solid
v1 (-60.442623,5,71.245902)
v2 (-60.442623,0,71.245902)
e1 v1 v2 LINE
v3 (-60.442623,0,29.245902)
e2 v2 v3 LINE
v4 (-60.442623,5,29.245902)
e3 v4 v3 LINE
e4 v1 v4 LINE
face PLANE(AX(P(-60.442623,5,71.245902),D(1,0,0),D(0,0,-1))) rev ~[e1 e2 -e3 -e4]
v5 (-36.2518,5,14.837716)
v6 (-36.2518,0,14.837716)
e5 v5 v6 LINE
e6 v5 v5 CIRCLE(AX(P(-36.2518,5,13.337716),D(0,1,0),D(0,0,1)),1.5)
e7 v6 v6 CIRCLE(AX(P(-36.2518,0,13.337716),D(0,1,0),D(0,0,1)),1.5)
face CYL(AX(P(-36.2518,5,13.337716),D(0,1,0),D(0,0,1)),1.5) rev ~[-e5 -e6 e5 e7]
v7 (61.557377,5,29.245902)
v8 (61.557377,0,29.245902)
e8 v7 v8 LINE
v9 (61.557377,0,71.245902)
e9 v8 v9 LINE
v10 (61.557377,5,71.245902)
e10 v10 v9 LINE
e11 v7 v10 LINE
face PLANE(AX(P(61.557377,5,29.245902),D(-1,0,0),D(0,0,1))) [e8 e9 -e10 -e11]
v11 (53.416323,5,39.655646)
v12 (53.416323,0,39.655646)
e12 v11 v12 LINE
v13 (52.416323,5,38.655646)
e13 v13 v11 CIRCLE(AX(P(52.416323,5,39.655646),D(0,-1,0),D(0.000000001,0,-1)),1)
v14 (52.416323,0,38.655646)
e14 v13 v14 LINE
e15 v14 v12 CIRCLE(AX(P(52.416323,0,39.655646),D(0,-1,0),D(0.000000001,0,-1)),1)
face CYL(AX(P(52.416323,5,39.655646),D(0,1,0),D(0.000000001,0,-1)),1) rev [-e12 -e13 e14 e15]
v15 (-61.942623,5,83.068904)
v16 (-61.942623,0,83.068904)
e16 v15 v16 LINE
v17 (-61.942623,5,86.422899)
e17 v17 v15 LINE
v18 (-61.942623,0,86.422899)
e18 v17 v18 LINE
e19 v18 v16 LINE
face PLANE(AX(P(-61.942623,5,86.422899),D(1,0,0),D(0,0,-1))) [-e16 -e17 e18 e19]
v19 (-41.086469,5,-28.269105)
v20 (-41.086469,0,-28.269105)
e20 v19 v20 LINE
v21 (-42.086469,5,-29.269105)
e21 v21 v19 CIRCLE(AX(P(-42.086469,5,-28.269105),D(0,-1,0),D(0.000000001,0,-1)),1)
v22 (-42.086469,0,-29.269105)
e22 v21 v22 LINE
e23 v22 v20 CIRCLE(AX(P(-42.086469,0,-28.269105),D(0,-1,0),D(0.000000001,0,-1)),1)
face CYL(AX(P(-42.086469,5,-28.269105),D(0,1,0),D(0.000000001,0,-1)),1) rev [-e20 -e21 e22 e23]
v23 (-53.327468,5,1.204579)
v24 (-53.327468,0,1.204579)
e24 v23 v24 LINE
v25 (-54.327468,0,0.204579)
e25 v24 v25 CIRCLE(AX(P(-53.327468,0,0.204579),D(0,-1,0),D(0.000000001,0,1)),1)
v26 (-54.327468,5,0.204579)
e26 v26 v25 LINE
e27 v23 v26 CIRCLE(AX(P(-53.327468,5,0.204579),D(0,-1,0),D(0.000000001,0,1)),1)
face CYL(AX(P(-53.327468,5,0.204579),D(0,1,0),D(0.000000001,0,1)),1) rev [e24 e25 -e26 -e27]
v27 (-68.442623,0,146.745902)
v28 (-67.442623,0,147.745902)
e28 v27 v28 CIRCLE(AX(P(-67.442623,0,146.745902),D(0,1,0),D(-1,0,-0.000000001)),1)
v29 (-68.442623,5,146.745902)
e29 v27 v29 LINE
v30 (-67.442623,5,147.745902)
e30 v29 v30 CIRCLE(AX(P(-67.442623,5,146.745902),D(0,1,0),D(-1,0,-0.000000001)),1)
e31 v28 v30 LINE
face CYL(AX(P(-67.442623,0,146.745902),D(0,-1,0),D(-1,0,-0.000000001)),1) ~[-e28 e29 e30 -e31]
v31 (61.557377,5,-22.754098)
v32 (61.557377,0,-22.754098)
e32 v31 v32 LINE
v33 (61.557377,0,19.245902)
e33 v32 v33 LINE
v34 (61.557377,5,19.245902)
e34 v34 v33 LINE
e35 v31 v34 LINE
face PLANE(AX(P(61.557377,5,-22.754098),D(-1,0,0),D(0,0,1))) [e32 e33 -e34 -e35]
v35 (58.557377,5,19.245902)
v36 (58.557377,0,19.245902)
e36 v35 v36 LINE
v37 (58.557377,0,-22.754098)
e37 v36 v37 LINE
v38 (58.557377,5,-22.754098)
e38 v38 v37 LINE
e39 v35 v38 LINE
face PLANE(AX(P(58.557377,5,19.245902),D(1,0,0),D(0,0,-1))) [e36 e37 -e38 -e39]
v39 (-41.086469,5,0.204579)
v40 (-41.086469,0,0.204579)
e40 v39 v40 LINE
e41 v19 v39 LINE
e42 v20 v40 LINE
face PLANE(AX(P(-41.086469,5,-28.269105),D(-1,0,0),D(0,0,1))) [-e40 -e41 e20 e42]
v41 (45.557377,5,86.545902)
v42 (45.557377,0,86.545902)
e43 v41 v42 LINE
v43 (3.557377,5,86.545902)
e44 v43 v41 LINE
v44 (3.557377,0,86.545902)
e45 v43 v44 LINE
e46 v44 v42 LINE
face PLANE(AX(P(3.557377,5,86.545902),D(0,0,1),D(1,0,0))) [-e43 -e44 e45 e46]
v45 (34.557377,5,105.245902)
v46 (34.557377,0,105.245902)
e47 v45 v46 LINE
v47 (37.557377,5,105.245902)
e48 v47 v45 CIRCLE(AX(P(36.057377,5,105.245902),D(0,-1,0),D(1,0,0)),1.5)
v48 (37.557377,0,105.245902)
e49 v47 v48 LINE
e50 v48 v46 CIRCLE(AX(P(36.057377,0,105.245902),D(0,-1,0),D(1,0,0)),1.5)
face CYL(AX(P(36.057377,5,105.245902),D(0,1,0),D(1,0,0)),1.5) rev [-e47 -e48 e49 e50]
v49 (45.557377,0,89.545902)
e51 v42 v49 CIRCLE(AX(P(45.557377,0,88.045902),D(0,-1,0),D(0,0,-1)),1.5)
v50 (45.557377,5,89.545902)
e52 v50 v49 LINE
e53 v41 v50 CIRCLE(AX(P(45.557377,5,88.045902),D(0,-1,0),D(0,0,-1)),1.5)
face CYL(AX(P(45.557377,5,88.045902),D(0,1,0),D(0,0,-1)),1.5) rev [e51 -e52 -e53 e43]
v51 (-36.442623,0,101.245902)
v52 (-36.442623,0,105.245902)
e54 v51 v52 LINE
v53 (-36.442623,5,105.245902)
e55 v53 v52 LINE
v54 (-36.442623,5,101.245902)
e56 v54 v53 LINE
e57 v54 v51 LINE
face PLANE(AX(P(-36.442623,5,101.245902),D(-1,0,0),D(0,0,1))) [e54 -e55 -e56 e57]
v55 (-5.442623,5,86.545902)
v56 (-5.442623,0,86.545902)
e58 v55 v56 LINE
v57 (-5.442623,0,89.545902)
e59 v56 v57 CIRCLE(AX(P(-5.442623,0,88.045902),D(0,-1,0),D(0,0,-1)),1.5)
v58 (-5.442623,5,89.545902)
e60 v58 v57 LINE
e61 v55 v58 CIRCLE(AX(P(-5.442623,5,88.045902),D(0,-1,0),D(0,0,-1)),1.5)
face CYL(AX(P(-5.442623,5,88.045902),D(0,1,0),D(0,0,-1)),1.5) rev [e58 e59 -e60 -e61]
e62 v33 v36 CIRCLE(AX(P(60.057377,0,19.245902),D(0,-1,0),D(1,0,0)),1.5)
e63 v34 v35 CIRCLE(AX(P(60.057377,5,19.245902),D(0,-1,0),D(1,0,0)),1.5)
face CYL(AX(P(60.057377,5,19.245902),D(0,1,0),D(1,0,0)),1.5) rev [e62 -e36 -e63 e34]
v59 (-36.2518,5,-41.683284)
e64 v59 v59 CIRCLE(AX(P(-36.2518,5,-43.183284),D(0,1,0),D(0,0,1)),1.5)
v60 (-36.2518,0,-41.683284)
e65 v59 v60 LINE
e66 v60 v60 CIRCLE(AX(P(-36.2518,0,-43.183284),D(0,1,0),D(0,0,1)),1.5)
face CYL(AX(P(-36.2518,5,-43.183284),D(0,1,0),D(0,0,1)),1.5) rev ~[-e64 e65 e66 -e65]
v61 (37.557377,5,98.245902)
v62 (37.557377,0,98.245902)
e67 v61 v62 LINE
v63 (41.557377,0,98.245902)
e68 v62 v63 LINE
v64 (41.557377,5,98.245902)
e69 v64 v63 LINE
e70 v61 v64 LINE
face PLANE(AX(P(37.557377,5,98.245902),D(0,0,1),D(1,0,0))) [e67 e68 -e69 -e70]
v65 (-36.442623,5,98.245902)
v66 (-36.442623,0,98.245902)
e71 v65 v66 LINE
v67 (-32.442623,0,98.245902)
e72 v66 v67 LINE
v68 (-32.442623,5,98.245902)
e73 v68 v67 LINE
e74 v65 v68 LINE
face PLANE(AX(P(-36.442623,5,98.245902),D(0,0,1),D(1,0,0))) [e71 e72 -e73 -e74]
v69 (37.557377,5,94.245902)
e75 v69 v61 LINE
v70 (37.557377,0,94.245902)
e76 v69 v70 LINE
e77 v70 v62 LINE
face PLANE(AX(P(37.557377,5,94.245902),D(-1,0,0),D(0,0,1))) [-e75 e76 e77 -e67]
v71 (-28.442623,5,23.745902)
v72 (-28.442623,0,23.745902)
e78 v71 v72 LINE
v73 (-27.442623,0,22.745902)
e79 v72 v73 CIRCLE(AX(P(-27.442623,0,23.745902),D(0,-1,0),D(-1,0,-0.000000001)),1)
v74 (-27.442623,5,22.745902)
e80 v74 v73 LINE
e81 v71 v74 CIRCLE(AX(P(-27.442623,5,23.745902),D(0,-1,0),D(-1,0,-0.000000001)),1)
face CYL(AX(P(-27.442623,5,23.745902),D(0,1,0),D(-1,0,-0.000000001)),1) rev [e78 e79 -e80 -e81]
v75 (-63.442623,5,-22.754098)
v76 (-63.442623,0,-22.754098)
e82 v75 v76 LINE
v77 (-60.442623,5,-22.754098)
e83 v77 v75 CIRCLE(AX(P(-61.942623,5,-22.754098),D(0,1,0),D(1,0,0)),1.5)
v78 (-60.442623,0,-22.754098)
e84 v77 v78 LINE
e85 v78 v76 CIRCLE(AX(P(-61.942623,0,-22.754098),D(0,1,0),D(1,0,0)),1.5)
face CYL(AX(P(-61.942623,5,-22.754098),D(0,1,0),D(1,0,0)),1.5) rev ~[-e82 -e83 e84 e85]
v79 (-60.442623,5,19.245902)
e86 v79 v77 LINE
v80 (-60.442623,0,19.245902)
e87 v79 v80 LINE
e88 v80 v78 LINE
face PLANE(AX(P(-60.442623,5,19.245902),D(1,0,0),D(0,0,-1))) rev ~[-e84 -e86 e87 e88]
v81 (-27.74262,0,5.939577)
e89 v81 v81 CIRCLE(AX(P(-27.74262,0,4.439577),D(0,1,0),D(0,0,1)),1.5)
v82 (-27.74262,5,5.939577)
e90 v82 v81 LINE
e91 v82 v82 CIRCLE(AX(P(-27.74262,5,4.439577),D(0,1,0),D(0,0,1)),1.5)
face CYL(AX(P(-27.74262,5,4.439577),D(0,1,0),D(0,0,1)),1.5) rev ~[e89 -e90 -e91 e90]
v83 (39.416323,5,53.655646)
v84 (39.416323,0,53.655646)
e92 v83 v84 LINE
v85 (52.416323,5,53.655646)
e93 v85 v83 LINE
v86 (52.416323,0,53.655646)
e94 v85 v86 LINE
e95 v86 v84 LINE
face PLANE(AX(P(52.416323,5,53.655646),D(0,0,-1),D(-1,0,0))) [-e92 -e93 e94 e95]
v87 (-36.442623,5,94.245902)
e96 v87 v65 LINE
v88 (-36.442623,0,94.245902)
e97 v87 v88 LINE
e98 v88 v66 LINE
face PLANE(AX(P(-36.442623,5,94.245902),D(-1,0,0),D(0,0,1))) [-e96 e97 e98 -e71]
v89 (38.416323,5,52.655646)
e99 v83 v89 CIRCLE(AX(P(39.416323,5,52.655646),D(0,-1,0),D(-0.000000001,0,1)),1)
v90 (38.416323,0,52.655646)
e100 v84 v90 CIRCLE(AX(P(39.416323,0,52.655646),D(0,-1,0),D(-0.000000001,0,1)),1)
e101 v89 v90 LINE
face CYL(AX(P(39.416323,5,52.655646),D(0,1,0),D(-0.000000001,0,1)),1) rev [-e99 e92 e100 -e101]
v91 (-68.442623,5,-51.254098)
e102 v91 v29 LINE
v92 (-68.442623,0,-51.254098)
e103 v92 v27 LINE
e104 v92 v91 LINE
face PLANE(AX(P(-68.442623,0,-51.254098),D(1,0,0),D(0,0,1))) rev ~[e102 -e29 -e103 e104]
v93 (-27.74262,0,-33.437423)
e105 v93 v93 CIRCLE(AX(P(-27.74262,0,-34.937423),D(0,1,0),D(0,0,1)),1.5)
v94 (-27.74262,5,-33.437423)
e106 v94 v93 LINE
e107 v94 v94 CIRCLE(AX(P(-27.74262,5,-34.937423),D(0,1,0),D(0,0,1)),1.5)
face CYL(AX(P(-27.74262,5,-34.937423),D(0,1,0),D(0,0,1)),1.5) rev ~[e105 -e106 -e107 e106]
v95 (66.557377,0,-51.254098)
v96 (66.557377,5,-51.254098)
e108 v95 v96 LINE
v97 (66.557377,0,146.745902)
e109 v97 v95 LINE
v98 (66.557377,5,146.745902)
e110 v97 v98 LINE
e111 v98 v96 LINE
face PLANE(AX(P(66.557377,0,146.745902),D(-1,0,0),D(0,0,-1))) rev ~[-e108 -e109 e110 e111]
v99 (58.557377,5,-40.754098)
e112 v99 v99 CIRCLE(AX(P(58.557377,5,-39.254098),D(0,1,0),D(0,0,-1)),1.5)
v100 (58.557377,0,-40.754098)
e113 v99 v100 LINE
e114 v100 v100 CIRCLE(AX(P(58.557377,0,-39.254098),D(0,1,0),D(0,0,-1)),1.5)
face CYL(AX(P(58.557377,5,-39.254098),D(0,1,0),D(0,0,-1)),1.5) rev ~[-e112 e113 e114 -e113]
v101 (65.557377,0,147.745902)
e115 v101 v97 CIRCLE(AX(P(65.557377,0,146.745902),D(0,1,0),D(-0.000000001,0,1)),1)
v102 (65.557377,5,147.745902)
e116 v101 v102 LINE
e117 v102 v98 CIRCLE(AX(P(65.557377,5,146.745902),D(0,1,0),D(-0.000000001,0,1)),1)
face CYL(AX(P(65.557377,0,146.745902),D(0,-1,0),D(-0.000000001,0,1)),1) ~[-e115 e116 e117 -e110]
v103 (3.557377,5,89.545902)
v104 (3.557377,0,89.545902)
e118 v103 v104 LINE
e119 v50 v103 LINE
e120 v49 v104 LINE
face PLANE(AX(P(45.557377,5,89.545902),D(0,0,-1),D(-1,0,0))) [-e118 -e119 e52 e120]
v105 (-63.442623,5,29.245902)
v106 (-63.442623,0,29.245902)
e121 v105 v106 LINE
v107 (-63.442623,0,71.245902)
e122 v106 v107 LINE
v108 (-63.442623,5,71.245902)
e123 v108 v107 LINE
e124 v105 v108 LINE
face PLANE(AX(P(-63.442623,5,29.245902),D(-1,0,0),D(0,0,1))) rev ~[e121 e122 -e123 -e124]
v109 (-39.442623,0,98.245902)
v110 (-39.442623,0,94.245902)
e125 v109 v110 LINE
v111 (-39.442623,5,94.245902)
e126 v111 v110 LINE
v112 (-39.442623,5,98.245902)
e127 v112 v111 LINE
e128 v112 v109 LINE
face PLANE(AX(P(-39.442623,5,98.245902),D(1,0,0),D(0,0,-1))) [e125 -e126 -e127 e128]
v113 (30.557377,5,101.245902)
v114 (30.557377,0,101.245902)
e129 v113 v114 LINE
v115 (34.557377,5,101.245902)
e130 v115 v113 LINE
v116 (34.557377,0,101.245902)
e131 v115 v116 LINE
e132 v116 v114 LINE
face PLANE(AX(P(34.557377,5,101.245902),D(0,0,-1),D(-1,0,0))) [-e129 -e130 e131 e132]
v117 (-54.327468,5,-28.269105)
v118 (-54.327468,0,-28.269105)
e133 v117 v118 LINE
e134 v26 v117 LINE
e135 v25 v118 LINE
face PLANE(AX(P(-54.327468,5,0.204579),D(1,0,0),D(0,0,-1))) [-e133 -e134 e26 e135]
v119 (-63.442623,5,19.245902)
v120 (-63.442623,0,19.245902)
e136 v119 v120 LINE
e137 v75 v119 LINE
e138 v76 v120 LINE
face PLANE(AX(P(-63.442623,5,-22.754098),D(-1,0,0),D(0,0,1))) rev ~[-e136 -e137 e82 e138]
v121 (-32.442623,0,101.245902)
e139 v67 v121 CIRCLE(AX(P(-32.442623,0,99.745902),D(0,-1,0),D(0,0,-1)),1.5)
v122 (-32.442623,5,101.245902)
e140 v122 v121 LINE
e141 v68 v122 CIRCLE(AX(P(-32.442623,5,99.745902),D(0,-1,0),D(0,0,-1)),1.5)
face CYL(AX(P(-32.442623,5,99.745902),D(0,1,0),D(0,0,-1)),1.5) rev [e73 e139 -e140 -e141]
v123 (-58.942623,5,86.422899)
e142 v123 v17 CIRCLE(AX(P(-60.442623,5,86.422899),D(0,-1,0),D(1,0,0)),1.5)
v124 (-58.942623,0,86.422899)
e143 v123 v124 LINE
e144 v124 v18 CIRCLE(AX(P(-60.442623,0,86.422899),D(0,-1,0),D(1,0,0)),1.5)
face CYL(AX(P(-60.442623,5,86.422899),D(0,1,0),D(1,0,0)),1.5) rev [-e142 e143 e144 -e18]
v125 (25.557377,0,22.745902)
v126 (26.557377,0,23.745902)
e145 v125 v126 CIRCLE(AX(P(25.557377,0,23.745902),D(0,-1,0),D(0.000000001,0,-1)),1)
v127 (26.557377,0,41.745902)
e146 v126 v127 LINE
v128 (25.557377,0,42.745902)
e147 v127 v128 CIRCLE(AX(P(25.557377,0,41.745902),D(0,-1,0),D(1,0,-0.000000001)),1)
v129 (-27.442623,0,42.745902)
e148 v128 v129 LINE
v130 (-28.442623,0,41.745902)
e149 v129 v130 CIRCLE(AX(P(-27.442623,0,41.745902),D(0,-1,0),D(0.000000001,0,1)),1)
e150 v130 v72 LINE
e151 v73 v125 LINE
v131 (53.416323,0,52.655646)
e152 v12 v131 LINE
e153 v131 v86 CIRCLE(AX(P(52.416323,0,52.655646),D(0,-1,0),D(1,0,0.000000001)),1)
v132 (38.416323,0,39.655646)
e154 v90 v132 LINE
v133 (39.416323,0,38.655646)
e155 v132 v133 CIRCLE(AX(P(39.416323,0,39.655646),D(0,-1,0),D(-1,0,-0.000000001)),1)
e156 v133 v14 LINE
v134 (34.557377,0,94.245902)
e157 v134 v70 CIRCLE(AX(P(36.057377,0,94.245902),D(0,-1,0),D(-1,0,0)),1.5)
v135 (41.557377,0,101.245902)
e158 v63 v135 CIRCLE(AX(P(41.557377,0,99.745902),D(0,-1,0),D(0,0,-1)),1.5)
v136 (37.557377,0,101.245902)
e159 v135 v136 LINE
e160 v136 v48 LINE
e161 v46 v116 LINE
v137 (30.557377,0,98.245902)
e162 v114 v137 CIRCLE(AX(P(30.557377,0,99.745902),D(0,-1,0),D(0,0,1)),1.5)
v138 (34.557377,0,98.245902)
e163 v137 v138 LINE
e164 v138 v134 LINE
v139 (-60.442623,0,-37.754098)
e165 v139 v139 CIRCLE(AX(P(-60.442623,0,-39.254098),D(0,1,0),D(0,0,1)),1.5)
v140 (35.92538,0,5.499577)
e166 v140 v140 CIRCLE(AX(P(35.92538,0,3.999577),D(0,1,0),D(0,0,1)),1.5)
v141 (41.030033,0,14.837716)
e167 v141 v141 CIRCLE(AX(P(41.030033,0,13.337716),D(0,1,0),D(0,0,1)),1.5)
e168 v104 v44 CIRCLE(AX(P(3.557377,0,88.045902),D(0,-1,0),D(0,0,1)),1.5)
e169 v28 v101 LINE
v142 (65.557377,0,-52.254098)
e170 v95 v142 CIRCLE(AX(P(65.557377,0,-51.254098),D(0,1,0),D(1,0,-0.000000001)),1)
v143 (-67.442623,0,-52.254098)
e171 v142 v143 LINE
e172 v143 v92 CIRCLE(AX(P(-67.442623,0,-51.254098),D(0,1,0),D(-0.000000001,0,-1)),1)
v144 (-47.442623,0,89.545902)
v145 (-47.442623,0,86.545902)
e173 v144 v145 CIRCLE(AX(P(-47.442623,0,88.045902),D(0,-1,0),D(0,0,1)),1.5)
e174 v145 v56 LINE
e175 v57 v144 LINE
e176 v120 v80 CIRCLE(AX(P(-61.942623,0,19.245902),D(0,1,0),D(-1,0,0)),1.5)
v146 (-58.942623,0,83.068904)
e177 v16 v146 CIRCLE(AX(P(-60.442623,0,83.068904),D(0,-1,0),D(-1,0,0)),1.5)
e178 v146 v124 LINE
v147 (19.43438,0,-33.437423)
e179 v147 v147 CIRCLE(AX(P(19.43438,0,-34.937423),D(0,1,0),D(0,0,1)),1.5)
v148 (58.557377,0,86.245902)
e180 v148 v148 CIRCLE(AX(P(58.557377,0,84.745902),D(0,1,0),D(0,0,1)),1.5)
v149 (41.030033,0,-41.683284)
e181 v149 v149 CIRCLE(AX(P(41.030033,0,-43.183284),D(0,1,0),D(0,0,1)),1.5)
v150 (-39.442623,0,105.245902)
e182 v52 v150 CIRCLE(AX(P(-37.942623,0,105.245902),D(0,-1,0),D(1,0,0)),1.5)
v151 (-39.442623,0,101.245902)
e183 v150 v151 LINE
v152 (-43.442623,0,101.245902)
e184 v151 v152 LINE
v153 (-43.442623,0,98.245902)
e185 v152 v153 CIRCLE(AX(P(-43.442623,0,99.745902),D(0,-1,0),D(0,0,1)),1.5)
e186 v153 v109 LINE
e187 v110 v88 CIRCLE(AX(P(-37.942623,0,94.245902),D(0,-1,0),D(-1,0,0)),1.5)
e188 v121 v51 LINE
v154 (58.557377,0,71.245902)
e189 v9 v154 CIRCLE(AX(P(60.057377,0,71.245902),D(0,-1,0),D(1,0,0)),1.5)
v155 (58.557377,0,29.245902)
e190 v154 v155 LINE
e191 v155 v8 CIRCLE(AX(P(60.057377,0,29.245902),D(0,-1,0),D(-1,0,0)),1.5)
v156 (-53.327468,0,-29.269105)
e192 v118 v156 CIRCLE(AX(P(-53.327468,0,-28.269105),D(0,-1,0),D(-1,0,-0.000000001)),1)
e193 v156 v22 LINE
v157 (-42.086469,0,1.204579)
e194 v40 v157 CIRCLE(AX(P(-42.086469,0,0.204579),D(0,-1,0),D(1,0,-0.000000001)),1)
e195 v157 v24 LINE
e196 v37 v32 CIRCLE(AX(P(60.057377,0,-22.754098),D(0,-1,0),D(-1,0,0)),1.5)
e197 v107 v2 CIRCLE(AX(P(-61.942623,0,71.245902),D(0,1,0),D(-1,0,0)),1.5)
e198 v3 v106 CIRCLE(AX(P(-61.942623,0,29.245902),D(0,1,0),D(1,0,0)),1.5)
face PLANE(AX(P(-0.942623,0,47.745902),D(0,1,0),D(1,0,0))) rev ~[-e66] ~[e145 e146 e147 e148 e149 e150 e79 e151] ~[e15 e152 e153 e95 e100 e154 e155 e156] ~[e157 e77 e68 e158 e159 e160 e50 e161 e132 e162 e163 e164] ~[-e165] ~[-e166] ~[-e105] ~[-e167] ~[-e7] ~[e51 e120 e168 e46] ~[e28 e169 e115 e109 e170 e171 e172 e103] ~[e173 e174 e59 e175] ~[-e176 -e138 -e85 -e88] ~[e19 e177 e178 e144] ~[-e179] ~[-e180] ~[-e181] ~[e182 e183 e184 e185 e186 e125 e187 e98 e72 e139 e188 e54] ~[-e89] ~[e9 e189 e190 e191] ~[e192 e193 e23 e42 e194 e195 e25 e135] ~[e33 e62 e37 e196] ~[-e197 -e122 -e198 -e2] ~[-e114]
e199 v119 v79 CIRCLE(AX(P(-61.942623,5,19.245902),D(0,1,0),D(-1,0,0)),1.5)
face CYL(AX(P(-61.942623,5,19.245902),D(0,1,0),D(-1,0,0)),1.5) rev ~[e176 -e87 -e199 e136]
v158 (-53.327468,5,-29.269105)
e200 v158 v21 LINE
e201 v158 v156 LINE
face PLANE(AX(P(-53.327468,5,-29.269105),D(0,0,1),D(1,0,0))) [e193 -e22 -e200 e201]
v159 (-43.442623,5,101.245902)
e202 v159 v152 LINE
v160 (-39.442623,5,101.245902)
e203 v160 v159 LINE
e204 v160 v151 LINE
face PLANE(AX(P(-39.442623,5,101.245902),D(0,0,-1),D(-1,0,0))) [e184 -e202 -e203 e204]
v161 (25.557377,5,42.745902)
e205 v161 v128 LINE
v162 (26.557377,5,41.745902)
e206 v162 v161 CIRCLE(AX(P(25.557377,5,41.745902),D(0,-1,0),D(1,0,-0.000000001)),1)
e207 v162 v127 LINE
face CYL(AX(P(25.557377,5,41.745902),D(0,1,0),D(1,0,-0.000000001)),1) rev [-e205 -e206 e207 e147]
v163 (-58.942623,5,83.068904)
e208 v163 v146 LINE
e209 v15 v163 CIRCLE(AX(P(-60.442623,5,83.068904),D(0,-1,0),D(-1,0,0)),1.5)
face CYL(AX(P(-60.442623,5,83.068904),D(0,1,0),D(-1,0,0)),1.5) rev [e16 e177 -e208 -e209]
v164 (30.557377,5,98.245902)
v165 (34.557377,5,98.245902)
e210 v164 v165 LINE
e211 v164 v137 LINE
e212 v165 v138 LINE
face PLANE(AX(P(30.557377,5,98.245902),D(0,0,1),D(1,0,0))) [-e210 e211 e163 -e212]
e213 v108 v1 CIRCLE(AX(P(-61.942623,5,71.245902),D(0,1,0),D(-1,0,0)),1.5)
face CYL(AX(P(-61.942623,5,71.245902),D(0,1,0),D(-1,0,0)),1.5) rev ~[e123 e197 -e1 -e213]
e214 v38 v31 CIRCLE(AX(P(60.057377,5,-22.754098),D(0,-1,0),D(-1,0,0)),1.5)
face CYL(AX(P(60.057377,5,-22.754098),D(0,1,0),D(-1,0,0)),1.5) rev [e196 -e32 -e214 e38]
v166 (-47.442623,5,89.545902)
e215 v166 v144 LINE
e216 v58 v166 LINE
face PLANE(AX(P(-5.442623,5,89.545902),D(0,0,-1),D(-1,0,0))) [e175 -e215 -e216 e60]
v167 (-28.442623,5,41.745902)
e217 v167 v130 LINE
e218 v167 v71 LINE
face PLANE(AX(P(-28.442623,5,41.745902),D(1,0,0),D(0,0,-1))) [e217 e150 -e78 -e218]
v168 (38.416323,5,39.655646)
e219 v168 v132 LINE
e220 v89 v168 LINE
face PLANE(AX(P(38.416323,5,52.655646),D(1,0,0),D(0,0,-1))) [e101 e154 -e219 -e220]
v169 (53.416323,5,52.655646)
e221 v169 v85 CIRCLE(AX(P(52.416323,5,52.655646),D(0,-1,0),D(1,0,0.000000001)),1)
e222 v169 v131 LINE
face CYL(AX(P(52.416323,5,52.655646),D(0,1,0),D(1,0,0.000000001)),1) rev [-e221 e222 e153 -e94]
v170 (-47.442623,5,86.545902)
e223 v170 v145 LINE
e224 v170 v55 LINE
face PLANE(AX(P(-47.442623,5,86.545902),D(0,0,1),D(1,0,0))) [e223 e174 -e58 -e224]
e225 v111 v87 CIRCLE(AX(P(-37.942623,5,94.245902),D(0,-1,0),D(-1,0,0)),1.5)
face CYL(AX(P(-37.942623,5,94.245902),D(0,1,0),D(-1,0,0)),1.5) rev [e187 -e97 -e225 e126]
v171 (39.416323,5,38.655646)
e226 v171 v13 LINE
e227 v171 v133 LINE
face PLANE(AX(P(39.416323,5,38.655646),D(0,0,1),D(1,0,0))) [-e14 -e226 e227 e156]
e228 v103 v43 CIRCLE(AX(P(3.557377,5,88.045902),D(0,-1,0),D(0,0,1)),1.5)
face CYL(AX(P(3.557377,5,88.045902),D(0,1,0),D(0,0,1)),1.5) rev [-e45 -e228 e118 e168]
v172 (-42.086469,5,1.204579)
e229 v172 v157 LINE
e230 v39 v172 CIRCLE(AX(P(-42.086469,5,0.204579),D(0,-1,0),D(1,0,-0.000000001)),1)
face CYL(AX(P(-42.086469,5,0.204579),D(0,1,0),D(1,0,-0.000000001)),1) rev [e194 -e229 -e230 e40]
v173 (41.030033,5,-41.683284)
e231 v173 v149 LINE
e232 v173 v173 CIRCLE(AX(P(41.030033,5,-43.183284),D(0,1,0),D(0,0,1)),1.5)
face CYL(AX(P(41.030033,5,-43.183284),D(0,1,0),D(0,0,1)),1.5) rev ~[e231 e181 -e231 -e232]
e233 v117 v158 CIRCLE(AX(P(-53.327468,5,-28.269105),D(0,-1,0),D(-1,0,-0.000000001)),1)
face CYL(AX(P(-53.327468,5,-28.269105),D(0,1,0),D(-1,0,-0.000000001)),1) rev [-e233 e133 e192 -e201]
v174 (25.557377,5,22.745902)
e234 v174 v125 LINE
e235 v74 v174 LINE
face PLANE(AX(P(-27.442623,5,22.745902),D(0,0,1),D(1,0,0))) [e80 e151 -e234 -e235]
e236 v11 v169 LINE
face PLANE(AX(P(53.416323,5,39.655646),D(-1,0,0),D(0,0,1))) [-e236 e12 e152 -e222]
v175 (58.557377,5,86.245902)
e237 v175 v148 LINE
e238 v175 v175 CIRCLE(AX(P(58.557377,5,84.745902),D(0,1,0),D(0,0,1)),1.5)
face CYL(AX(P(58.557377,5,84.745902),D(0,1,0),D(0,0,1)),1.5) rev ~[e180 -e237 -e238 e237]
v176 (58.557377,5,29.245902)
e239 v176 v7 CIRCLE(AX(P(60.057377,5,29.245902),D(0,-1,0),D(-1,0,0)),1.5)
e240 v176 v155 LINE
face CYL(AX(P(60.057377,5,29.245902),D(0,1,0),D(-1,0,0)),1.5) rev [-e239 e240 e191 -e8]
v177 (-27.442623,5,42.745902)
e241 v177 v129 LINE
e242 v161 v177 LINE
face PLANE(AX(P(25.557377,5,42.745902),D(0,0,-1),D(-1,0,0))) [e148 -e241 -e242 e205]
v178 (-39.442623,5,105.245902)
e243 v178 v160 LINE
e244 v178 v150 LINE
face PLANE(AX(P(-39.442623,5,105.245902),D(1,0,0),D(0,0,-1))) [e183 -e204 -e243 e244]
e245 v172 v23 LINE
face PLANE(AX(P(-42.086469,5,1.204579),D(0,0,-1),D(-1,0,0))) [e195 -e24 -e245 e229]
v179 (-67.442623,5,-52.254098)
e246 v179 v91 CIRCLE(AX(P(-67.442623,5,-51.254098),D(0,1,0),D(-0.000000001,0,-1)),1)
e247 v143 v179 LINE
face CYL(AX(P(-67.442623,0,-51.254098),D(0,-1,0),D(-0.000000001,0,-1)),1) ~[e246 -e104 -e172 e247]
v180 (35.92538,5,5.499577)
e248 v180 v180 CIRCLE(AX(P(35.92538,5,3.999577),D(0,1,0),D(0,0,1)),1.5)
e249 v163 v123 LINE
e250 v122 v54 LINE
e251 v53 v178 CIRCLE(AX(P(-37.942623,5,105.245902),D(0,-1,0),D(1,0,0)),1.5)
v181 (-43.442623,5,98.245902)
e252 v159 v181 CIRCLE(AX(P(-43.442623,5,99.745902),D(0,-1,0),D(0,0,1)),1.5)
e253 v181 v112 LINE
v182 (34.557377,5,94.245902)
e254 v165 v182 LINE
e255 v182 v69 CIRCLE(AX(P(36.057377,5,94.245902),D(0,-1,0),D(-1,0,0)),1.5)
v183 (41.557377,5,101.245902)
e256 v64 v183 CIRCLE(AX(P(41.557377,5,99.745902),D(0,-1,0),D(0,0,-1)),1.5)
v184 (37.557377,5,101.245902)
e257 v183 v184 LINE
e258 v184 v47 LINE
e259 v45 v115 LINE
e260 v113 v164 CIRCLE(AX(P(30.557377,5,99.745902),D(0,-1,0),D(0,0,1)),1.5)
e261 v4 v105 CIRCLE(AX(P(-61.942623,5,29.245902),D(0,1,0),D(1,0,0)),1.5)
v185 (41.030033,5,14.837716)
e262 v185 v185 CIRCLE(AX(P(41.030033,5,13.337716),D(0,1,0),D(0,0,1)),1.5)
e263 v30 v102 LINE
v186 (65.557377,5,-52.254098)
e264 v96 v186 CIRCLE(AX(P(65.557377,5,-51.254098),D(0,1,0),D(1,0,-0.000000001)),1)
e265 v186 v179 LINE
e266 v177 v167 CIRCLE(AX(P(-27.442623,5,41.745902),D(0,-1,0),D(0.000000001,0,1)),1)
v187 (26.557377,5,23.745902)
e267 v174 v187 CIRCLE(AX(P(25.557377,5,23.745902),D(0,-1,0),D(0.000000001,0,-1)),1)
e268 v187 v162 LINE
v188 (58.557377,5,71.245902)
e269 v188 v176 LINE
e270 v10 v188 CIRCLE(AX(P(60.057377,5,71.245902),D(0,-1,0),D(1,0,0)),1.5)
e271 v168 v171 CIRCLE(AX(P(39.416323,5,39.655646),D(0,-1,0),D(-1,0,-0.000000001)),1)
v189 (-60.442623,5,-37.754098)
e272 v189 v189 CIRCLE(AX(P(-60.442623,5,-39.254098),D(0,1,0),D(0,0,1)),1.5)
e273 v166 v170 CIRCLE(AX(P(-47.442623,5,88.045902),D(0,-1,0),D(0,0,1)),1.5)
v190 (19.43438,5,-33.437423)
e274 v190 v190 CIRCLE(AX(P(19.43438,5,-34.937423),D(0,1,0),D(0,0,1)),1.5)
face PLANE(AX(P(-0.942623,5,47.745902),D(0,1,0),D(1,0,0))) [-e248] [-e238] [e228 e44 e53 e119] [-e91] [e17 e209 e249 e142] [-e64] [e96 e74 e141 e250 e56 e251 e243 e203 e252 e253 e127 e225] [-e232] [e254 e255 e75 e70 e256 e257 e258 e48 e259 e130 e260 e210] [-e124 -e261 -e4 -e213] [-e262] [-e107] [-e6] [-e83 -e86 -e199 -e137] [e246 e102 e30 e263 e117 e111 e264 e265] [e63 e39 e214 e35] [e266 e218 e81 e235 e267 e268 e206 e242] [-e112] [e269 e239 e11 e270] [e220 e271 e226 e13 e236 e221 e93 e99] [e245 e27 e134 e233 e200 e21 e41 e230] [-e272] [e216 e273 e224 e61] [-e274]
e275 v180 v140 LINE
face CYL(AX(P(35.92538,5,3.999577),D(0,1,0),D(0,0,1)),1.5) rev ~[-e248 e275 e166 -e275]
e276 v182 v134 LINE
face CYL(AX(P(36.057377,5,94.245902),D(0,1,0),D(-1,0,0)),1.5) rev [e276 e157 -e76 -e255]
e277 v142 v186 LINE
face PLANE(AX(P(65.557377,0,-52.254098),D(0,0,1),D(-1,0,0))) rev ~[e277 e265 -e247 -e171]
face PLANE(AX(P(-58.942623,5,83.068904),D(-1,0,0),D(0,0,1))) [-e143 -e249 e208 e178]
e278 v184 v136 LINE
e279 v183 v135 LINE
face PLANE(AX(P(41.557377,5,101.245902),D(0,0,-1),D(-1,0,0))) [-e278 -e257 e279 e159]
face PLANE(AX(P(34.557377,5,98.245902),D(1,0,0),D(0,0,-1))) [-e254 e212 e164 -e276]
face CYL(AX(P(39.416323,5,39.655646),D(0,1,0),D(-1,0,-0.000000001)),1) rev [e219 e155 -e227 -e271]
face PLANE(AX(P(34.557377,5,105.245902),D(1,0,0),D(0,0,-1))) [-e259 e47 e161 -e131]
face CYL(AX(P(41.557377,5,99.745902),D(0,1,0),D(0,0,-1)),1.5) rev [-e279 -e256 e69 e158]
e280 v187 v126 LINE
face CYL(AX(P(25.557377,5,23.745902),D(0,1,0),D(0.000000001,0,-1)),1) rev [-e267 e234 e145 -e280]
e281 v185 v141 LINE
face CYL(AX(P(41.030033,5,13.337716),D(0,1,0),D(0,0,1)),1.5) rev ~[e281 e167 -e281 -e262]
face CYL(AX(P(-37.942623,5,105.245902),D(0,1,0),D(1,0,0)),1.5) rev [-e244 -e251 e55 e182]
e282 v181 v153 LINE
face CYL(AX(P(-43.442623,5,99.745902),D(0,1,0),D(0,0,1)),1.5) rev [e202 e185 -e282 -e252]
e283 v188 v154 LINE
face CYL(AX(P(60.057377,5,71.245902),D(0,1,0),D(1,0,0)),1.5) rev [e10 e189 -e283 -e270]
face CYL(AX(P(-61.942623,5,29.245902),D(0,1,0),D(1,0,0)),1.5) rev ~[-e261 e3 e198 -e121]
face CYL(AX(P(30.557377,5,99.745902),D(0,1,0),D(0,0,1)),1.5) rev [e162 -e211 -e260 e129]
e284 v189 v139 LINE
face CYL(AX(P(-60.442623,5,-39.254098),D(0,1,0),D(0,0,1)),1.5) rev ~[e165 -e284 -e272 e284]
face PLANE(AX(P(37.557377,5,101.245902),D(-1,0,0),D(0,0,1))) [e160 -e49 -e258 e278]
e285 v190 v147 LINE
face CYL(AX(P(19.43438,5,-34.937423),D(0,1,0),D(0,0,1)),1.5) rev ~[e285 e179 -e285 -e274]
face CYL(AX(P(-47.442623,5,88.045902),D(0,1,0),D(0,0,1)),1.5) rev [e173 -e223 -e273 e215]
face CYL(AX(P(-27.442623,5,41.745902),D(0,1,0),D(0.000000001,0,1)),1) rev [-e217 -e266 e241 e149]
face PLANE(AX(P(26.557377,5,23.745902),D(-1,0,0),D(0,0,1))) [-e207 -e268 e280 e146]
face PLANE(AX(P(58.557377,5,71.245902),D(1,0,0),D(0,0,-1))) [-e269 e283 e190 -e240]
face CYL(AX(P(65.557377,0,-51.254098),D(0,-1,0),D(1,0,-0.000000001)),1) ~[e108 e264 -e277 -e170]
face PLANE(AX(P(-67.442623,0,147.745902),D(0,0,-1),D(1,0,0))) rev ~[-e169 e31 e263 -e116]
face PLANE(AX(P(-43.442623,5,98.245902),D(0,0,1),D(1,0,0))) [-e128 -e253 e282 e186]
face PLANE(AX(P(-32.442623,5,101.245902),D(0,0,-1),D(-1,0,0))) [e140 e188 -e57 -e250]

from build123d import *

# Parameters (mm, degrees)
BOSS_EXTRUDE1_DEPTH = 5
CUT_EXTRUDE1_DEPTH  = 5
CUT_EXTRUDE2_DEPTH  = 5
SKETCH5_R           = 1.5
CUT_EXTRUDE3_DEPTH  = 5
CUT_EXTRUDE4_DEPTH  = 5
SKETCH6_R           = 1.5
CUT_EXTRUDE5_DEPTH  = 5
SKETCH7_R           = 1.5
CUT_EXTRUDE6_DEPTH  = 10


with BuildPart() as part:
    # Sketch1 → Boss-Extrude1 (new body)
    with BuildSketch(Plane(origin=(0, 0, 0), x_dir=(1, 0, 0), z_dir=(0, 1, 0))):
        with BuildLine():
            Line((-67.442622951, -147.745901639), (65.557377049, -147.745901639))
            ThreePointArc((65.557377049, -147.745901639), (66.26448383, -147.453008421), (66.557377049, -146.745901639))
            Line((66.557377049, -146.745901639), (66.557377049, 51.254098361))
            ThreePointArc((66.557377049, 51.254098361), (66.26448383, 51.961205142), (65.557377049, 52.254098361))
            Line((65.557377049, 52.254098361), (-67.442622951, 52.254098361))
            ThreePointArc((-67.442622951, 52.254098361), (-68.149729732, 51.961205142), (-68.442622951, 51.254098361))
            Line((-68.442622951, 51.254098361), (-68.442622951, -146.745901639))
            ThreePointArc((-68.442622951, -146.745901639), (-68.149729732, -147.453008421), (-67.442622951, -147.745901639))
        make_face()
    extrude(amount=BOSS_EXTRUDE1_DEPTH)

    # Sketch2 → Cut-Extrude1 (cut)
    with BuildSketch(Plane(origin=(0, 5, 0), x_dir=(1, 0, 0), z_dir=(0, 1, 0))):
        with BuildLine():
            Line((58.557377049, -71.245901639), (58.557377049, -29.245901639))
            ThreePointArc((58.557377049, -29.245901639), (60.057377049, -27.745901639), (61.557377049, -29.245901639))
            Line((61.557377049, -29.245901639), (61.557377049, -71.245901639))
            ThreePointArc((61.557377049, -71.245901639), (60.057377049, -72.745901639), (58.557377049, -71.245901639))
        make_face()
        with BuildLine():
            Line((58.557377049, -19.245901639), (58.557377049, 22.754098361))
            ThreePointArc((58.557377049, 22.754098361), (60.057377049, 24.254098361), (61.557377049, 22.754098361))
            Line((61.557377049, 22.754098361), (61.557377049, -19.245901639))
            ThreePointArc((61.557377049, -19.245901639), (60.057377049, -20.745901639), (58.557377049, -19.245901639))
        make_face()
        with BuildLine():
            Line((-60.442622951, -71.245901639), (-60.442622951, -29.245901639))
            ThreePointArc((-60.442622951, -29.245901639), (-61.942622951, -27.745901639), (-63.442622951, -29.245901639))
            Line((-63.442622951, -29.245901639), (-63.442622951, -71.245901639))
            ThreePointArc((-63.442622951, -71.245901639), (-61.942622951, -72.745901639), (-60.442622951, -71.245901639))
        make_face()
        with BuildLine():
            Line((-60.442622951, -19.245901639), (-60.442622951, 22.754098361))
            ThreePointArc((-60.442622951, 22.754098361), (-61.942622951, 24.254098361), (-63.442622951, 22.754098361))
            Line((-63.442622951, 22.754098361), (-63.442622951, -19.245901639))
            ThreePointArc((-63.442622951, -19.245901639), (-61.942622951, -20.745901639), (-60.442622951, -19.245901639))
        make_face()
    extrude(amount=-CUT_EXTRUDE1_DEPTH, mode=Mode.SUBTRACT)

    # Sketch3 → Cut-Extrude2 (cut)
    with BuildSketch(Plane(origin=(0, 5, 0), x_dir=(1, 0, 0), z_dir=(0, 1, 0))):
        with BuildLine():
            Line((-47.442622951, -86.545901639), (-5.442622951, -86.545901639))
            ThreePointArc((-5.442622951, -86.545901639), (-3.942622951, -88.045901639), (-5.442622951, -89.545901639))
            Line((-5.442622951, -89.545901639), (-47.442622951, -89.545901639))
            ThreePointArc((-47.442622951, -89.545901639), (-48.942622951, -88.045901639), (-47.442622951, -86.545901639))
        make_face()
        with BuildLine():
            Line((3.557377049, -86.545901639), (45.557377049, -86.545901639))
            ThreePointArc((45.557377049, -86.545901639), (47.057377049, -88.045901639), (45.557377049, -89.545901639))
            Line((45.557377049, -89.545901639), (3.557377049, -89.545901639))
            ThreePointArc((3.557377049, -89.545901639), (2.057377049, -88.045901639), (3.557377049, -86.545901639))
        make_face()
    extrude(amount=-CUT_EXTRUDE2_DEPTH, mode=Mode.SUBTRACT)

    # Sketch5 → Cut-Extrude3 (cut)
    with BuildSketch(Plane(origin=(0, 5, 0), x_dir=(1, 0, 0), z_dir=(0, 1, 0))):
        with Locations(Location((58.557377049, -84.745901639, 0), (0, 0, 270))):
            Circle(SKETCH5_R)
        with Locations(Location((58.557377049, 39.254098361, 0), (0, 0, 90))):
            Circle(SKETCH5_R)
        with Locations(Location((-60.442622951, 39.254098361, 0), (0, 0, 270))):
            Circle(SKETCH5_R)
        with BuildLine():
            Line((-58.942622951, -83.068904194), (-58.942622951, -86.422899085))
            ThreePointArc((-58.942622951, -86.422899085), (-60.442622951, -87.922899085), (-61.942622951, -86.422899085))
            Line((-61.942622951, -86.422899085), (-61.942622951, -83.068904194))
            ThreePointArc((-61.942622951, -83.068904194), (-60.442622951, -81.568904194), (-58.942622951, -83.068904194))
        make_face()
    extrude(amount=-CUT_EXTRUDE3_DEPTH, mode=Mode.SUBTRACT)

    # Sketch4 → Cut-Extrude4 (cut)
    with BuildSketch(Plane(origin=(0, 5, 0), x_dir=(1, 0, 0), z_dir=(0, 1, 0))):
        with BuildLine():
            Line((-27.442622951, -22.745901639), (25.557377049, -22.745901639))
            ThreePointArc((25.557377049, -22.745901639), (26.26448383, -23.038794858), (26.557377049, -23.745901639))
            Line((26.557377049, -23.745901639), (26.557377049, -41.745901639))
            ThreePointArc((26.557377049, -41.745901639), (26.26448383, -42.453008421), (25.557377049, -42.745901639))
            Line((25.557377049, -42.745901639), (-27.442622951, -42.745901639))
            ThreePointArc((-27.442622951, -42.745901639), (-28.149729732, -42.453008421), (-28.442622951, -41.745901639))
            Line((-28.442622951, -41.745901639), (-28.442622951, -23.745901639))
            ThreePointArc((-28.442622951, -23.745901639), (-28.149729732, -23.038794858), (-27.442622951, -22.745901639))
        make_face()
    extrude(amount=-CUT_EXTRUDE4_DEPTH, mode=Mode.SUBTRACT)

    # Sketch6 → Cut-Extrude5 (cut)
    with BuildSketch(Plane(origin=(0, 5, 0), x_dir=(1, 0, 0), z_dir=(0, 1, 0))):
        with Locations(Location((-36.251799608, 43.183284391, 0), (0, 0, 270))):
            Circle(SKETCH6_R)
        with Locations(Location((-36.251799608, -13.337715609, 0), (0, 0, 270))):
            Circle(SKETCH6_R)
        with Locations(Location((41.030032564, -13.337715609, 0), (0, 0, 270))):
            Circle(SKETCH6_R)
        with Locations(Location((41.030032564, 43.183284391, 0), (0, 0, 270))):
            Circle(SKETCH6_R)
        with BuildLine():
            Line((-53.327467893, 29.269104752), (-42.086468598, 29.269104752))
            ThreePointArc((-42.086468598, 29.269104752), (-41.379361817, 28.976211533), (-41.086468598, 28.269104752))
            Line((-41.086468598, 28.269104752), (-41.086468598, -0.204578889))
            ThreePointArc((-41.086468598, -0.204578889), (-41.379361817, -0.911685671), (-42.086468598, -1.204578889))
            Line((-42.086468598, -1.204578889), (-53.327467893, -1.204578889))
            ThreePointArc((-53.327467893, -1.204578889), (-54.034574674, -0.911685671), (-54.327467893, -0.204578889))
            Line((-54.327467893, -0.204578889), (-54.327467893, 28.269104752))
            ThreePointArc((-54.327467893, 28.269104752), (-54.034574674, 28.976211533), (-53.327467893, 29.269104752))
        make_face()
        with BuildLine():
            Line((39.416322558, -38.655645532), (52.416322558, -38.655645532))
            ThreePointArc((52.416322558, -38.655645532), (53.123429339, -38.948538751), (53.416322558, -39.655645532))
            Line((53.416322558, -39.655645532), (53.416322558, -52.655645532))
            ThreePointArc((53.416322558, -52.655645532), (53.123429339, -53.362752313), (52.416322558, -53.655645532))
            Line((52.416322558, -53.655645532), (39.416322558, -53.655645532))
            ThreePointArc((39.416322558, -53.655645532), (38.709215777, -53.362752313), (38.416322558, -52.655645532))
            Line((38.416322558, -52.655645532), (38.416322558, -39.655645532))
            ThreePointArc((38.416322558, -39.655645532), (38.709215777, -38.948538751), (39.416322558, -38.655645532))
        make_face()
        with BuildLine():
            Line((37.557377049, -94.245901639), (37.557377049, -98.245901639))
            Line((37.557377049, -98.245901639), (41.557377049, -98.245901639))
            ThreePointArc((41.557377049, -98.245901639), (43.057377049, -99.745901639), (41.557377049, -101.245901639))
            Line((41.557377049, -101.245901639), (37.557377049, -101.245901639))
            Line((37.557377049, -101.245901639), (37.557377049, -105.245901639))
            ThreePointArc((37.557377049, -105.245901639), (36.057377049, -106.745901639), (34.557377049, -105.245901639))
            Line((34.557377049, -105.245901639), (34.557377049, -101.245901639))
            Line((34.557377049, -101.245901639), (30.557377049, -101.245901639))
            ThreePointArc((30.557377049, -101.245901639), (29.057377049, -99.745901639), (30.557377049, -98.245901639))
            Line((30.557377049, -98.245901639), (34.557377049, -98.245901639))
            Line((34.557377049, -98.245901639), (34.557377049, -94.245901639))
            ThreePointArc((34.557377049, -94.245901639), (36.057377049, -92.745901639), (37.557377049, -94.245901639))
        make_face()
        with BuildLine():
            Line((-43.442622951, -98.245901639), (-39.442622951, -98.245901639))
            Line((-39.442622951, -98.245901639), (-39.442622951, -94.245901639))
            ThreePointArc((-39.442622951, -94.245901639), (-37.942622951, -92.745901639), (-36.442622951, -94.245901639))
            Line((-36.442622951, -94.245901639), (-36.442622951, -98.245901639))
            Line((-36.442622951, -98.245901639), (-32.442622951, -98.245901639))
            ThreePointArc((-32.442622951, -98.245901639), (-30.942622951, -99.745901639), (-32.442622951, -101.245901639))
            Line((-32.442622951, -101.245901639), (-36.442622951, -101.245901639))
            Line((-36.442622951, -101.245901639), (-36.442622951, -105.245901639))
            ThreePointArc((-36.442622951, -105.245901639), (-37.942622951, -106.745901639), (-39.442622951, -105.245901639))
            Line((-39.442622951, -105.245901639), (-39.442622951, -101.245901639))
            Line((-39.442622951, -101.245901639), (-43.442622951, -101.245901639))
            ThreePointArc((-43.442622951, -101.245901639), (-44.942622951, -99.745901639), (-43.442622951, -98.245901639))
        make_face()
    extrude(amount=-CUT_EXTRUDE5_DEPTH, mode=Mode.SUBTRACT)

    # Sketch7 → Cut-Extrude6 (cut)
    with BuildSketch(Plane(origin=(0, 5, 0), x_dir=(1, 0, 0), z_dir=(0, 1, 0))):
        with Locations(Location((-27.742619724, -4.439577259, 0), (0, 0, 270))):
            Circle(SKETCH7_R)
        with Locations(Location((35.925380276, -3.999577259, 0), (0, 0, 270))):
            Circle(SKETCH7_R)
        with Locations(Location((-27.742619724, 34.937422741, 0), (0, 0, 270))):
            Circle(SKETCH7_R)
        with Locations(Location((19.434380276, 34.937422741, 0), (0, 0, 270))):
            Circle(SKETCH7_R)
    extrude(amount=-CUT_EXTRUDE6_DEPTH, mode=Mode.SUBTRACT)


solid = part.part
